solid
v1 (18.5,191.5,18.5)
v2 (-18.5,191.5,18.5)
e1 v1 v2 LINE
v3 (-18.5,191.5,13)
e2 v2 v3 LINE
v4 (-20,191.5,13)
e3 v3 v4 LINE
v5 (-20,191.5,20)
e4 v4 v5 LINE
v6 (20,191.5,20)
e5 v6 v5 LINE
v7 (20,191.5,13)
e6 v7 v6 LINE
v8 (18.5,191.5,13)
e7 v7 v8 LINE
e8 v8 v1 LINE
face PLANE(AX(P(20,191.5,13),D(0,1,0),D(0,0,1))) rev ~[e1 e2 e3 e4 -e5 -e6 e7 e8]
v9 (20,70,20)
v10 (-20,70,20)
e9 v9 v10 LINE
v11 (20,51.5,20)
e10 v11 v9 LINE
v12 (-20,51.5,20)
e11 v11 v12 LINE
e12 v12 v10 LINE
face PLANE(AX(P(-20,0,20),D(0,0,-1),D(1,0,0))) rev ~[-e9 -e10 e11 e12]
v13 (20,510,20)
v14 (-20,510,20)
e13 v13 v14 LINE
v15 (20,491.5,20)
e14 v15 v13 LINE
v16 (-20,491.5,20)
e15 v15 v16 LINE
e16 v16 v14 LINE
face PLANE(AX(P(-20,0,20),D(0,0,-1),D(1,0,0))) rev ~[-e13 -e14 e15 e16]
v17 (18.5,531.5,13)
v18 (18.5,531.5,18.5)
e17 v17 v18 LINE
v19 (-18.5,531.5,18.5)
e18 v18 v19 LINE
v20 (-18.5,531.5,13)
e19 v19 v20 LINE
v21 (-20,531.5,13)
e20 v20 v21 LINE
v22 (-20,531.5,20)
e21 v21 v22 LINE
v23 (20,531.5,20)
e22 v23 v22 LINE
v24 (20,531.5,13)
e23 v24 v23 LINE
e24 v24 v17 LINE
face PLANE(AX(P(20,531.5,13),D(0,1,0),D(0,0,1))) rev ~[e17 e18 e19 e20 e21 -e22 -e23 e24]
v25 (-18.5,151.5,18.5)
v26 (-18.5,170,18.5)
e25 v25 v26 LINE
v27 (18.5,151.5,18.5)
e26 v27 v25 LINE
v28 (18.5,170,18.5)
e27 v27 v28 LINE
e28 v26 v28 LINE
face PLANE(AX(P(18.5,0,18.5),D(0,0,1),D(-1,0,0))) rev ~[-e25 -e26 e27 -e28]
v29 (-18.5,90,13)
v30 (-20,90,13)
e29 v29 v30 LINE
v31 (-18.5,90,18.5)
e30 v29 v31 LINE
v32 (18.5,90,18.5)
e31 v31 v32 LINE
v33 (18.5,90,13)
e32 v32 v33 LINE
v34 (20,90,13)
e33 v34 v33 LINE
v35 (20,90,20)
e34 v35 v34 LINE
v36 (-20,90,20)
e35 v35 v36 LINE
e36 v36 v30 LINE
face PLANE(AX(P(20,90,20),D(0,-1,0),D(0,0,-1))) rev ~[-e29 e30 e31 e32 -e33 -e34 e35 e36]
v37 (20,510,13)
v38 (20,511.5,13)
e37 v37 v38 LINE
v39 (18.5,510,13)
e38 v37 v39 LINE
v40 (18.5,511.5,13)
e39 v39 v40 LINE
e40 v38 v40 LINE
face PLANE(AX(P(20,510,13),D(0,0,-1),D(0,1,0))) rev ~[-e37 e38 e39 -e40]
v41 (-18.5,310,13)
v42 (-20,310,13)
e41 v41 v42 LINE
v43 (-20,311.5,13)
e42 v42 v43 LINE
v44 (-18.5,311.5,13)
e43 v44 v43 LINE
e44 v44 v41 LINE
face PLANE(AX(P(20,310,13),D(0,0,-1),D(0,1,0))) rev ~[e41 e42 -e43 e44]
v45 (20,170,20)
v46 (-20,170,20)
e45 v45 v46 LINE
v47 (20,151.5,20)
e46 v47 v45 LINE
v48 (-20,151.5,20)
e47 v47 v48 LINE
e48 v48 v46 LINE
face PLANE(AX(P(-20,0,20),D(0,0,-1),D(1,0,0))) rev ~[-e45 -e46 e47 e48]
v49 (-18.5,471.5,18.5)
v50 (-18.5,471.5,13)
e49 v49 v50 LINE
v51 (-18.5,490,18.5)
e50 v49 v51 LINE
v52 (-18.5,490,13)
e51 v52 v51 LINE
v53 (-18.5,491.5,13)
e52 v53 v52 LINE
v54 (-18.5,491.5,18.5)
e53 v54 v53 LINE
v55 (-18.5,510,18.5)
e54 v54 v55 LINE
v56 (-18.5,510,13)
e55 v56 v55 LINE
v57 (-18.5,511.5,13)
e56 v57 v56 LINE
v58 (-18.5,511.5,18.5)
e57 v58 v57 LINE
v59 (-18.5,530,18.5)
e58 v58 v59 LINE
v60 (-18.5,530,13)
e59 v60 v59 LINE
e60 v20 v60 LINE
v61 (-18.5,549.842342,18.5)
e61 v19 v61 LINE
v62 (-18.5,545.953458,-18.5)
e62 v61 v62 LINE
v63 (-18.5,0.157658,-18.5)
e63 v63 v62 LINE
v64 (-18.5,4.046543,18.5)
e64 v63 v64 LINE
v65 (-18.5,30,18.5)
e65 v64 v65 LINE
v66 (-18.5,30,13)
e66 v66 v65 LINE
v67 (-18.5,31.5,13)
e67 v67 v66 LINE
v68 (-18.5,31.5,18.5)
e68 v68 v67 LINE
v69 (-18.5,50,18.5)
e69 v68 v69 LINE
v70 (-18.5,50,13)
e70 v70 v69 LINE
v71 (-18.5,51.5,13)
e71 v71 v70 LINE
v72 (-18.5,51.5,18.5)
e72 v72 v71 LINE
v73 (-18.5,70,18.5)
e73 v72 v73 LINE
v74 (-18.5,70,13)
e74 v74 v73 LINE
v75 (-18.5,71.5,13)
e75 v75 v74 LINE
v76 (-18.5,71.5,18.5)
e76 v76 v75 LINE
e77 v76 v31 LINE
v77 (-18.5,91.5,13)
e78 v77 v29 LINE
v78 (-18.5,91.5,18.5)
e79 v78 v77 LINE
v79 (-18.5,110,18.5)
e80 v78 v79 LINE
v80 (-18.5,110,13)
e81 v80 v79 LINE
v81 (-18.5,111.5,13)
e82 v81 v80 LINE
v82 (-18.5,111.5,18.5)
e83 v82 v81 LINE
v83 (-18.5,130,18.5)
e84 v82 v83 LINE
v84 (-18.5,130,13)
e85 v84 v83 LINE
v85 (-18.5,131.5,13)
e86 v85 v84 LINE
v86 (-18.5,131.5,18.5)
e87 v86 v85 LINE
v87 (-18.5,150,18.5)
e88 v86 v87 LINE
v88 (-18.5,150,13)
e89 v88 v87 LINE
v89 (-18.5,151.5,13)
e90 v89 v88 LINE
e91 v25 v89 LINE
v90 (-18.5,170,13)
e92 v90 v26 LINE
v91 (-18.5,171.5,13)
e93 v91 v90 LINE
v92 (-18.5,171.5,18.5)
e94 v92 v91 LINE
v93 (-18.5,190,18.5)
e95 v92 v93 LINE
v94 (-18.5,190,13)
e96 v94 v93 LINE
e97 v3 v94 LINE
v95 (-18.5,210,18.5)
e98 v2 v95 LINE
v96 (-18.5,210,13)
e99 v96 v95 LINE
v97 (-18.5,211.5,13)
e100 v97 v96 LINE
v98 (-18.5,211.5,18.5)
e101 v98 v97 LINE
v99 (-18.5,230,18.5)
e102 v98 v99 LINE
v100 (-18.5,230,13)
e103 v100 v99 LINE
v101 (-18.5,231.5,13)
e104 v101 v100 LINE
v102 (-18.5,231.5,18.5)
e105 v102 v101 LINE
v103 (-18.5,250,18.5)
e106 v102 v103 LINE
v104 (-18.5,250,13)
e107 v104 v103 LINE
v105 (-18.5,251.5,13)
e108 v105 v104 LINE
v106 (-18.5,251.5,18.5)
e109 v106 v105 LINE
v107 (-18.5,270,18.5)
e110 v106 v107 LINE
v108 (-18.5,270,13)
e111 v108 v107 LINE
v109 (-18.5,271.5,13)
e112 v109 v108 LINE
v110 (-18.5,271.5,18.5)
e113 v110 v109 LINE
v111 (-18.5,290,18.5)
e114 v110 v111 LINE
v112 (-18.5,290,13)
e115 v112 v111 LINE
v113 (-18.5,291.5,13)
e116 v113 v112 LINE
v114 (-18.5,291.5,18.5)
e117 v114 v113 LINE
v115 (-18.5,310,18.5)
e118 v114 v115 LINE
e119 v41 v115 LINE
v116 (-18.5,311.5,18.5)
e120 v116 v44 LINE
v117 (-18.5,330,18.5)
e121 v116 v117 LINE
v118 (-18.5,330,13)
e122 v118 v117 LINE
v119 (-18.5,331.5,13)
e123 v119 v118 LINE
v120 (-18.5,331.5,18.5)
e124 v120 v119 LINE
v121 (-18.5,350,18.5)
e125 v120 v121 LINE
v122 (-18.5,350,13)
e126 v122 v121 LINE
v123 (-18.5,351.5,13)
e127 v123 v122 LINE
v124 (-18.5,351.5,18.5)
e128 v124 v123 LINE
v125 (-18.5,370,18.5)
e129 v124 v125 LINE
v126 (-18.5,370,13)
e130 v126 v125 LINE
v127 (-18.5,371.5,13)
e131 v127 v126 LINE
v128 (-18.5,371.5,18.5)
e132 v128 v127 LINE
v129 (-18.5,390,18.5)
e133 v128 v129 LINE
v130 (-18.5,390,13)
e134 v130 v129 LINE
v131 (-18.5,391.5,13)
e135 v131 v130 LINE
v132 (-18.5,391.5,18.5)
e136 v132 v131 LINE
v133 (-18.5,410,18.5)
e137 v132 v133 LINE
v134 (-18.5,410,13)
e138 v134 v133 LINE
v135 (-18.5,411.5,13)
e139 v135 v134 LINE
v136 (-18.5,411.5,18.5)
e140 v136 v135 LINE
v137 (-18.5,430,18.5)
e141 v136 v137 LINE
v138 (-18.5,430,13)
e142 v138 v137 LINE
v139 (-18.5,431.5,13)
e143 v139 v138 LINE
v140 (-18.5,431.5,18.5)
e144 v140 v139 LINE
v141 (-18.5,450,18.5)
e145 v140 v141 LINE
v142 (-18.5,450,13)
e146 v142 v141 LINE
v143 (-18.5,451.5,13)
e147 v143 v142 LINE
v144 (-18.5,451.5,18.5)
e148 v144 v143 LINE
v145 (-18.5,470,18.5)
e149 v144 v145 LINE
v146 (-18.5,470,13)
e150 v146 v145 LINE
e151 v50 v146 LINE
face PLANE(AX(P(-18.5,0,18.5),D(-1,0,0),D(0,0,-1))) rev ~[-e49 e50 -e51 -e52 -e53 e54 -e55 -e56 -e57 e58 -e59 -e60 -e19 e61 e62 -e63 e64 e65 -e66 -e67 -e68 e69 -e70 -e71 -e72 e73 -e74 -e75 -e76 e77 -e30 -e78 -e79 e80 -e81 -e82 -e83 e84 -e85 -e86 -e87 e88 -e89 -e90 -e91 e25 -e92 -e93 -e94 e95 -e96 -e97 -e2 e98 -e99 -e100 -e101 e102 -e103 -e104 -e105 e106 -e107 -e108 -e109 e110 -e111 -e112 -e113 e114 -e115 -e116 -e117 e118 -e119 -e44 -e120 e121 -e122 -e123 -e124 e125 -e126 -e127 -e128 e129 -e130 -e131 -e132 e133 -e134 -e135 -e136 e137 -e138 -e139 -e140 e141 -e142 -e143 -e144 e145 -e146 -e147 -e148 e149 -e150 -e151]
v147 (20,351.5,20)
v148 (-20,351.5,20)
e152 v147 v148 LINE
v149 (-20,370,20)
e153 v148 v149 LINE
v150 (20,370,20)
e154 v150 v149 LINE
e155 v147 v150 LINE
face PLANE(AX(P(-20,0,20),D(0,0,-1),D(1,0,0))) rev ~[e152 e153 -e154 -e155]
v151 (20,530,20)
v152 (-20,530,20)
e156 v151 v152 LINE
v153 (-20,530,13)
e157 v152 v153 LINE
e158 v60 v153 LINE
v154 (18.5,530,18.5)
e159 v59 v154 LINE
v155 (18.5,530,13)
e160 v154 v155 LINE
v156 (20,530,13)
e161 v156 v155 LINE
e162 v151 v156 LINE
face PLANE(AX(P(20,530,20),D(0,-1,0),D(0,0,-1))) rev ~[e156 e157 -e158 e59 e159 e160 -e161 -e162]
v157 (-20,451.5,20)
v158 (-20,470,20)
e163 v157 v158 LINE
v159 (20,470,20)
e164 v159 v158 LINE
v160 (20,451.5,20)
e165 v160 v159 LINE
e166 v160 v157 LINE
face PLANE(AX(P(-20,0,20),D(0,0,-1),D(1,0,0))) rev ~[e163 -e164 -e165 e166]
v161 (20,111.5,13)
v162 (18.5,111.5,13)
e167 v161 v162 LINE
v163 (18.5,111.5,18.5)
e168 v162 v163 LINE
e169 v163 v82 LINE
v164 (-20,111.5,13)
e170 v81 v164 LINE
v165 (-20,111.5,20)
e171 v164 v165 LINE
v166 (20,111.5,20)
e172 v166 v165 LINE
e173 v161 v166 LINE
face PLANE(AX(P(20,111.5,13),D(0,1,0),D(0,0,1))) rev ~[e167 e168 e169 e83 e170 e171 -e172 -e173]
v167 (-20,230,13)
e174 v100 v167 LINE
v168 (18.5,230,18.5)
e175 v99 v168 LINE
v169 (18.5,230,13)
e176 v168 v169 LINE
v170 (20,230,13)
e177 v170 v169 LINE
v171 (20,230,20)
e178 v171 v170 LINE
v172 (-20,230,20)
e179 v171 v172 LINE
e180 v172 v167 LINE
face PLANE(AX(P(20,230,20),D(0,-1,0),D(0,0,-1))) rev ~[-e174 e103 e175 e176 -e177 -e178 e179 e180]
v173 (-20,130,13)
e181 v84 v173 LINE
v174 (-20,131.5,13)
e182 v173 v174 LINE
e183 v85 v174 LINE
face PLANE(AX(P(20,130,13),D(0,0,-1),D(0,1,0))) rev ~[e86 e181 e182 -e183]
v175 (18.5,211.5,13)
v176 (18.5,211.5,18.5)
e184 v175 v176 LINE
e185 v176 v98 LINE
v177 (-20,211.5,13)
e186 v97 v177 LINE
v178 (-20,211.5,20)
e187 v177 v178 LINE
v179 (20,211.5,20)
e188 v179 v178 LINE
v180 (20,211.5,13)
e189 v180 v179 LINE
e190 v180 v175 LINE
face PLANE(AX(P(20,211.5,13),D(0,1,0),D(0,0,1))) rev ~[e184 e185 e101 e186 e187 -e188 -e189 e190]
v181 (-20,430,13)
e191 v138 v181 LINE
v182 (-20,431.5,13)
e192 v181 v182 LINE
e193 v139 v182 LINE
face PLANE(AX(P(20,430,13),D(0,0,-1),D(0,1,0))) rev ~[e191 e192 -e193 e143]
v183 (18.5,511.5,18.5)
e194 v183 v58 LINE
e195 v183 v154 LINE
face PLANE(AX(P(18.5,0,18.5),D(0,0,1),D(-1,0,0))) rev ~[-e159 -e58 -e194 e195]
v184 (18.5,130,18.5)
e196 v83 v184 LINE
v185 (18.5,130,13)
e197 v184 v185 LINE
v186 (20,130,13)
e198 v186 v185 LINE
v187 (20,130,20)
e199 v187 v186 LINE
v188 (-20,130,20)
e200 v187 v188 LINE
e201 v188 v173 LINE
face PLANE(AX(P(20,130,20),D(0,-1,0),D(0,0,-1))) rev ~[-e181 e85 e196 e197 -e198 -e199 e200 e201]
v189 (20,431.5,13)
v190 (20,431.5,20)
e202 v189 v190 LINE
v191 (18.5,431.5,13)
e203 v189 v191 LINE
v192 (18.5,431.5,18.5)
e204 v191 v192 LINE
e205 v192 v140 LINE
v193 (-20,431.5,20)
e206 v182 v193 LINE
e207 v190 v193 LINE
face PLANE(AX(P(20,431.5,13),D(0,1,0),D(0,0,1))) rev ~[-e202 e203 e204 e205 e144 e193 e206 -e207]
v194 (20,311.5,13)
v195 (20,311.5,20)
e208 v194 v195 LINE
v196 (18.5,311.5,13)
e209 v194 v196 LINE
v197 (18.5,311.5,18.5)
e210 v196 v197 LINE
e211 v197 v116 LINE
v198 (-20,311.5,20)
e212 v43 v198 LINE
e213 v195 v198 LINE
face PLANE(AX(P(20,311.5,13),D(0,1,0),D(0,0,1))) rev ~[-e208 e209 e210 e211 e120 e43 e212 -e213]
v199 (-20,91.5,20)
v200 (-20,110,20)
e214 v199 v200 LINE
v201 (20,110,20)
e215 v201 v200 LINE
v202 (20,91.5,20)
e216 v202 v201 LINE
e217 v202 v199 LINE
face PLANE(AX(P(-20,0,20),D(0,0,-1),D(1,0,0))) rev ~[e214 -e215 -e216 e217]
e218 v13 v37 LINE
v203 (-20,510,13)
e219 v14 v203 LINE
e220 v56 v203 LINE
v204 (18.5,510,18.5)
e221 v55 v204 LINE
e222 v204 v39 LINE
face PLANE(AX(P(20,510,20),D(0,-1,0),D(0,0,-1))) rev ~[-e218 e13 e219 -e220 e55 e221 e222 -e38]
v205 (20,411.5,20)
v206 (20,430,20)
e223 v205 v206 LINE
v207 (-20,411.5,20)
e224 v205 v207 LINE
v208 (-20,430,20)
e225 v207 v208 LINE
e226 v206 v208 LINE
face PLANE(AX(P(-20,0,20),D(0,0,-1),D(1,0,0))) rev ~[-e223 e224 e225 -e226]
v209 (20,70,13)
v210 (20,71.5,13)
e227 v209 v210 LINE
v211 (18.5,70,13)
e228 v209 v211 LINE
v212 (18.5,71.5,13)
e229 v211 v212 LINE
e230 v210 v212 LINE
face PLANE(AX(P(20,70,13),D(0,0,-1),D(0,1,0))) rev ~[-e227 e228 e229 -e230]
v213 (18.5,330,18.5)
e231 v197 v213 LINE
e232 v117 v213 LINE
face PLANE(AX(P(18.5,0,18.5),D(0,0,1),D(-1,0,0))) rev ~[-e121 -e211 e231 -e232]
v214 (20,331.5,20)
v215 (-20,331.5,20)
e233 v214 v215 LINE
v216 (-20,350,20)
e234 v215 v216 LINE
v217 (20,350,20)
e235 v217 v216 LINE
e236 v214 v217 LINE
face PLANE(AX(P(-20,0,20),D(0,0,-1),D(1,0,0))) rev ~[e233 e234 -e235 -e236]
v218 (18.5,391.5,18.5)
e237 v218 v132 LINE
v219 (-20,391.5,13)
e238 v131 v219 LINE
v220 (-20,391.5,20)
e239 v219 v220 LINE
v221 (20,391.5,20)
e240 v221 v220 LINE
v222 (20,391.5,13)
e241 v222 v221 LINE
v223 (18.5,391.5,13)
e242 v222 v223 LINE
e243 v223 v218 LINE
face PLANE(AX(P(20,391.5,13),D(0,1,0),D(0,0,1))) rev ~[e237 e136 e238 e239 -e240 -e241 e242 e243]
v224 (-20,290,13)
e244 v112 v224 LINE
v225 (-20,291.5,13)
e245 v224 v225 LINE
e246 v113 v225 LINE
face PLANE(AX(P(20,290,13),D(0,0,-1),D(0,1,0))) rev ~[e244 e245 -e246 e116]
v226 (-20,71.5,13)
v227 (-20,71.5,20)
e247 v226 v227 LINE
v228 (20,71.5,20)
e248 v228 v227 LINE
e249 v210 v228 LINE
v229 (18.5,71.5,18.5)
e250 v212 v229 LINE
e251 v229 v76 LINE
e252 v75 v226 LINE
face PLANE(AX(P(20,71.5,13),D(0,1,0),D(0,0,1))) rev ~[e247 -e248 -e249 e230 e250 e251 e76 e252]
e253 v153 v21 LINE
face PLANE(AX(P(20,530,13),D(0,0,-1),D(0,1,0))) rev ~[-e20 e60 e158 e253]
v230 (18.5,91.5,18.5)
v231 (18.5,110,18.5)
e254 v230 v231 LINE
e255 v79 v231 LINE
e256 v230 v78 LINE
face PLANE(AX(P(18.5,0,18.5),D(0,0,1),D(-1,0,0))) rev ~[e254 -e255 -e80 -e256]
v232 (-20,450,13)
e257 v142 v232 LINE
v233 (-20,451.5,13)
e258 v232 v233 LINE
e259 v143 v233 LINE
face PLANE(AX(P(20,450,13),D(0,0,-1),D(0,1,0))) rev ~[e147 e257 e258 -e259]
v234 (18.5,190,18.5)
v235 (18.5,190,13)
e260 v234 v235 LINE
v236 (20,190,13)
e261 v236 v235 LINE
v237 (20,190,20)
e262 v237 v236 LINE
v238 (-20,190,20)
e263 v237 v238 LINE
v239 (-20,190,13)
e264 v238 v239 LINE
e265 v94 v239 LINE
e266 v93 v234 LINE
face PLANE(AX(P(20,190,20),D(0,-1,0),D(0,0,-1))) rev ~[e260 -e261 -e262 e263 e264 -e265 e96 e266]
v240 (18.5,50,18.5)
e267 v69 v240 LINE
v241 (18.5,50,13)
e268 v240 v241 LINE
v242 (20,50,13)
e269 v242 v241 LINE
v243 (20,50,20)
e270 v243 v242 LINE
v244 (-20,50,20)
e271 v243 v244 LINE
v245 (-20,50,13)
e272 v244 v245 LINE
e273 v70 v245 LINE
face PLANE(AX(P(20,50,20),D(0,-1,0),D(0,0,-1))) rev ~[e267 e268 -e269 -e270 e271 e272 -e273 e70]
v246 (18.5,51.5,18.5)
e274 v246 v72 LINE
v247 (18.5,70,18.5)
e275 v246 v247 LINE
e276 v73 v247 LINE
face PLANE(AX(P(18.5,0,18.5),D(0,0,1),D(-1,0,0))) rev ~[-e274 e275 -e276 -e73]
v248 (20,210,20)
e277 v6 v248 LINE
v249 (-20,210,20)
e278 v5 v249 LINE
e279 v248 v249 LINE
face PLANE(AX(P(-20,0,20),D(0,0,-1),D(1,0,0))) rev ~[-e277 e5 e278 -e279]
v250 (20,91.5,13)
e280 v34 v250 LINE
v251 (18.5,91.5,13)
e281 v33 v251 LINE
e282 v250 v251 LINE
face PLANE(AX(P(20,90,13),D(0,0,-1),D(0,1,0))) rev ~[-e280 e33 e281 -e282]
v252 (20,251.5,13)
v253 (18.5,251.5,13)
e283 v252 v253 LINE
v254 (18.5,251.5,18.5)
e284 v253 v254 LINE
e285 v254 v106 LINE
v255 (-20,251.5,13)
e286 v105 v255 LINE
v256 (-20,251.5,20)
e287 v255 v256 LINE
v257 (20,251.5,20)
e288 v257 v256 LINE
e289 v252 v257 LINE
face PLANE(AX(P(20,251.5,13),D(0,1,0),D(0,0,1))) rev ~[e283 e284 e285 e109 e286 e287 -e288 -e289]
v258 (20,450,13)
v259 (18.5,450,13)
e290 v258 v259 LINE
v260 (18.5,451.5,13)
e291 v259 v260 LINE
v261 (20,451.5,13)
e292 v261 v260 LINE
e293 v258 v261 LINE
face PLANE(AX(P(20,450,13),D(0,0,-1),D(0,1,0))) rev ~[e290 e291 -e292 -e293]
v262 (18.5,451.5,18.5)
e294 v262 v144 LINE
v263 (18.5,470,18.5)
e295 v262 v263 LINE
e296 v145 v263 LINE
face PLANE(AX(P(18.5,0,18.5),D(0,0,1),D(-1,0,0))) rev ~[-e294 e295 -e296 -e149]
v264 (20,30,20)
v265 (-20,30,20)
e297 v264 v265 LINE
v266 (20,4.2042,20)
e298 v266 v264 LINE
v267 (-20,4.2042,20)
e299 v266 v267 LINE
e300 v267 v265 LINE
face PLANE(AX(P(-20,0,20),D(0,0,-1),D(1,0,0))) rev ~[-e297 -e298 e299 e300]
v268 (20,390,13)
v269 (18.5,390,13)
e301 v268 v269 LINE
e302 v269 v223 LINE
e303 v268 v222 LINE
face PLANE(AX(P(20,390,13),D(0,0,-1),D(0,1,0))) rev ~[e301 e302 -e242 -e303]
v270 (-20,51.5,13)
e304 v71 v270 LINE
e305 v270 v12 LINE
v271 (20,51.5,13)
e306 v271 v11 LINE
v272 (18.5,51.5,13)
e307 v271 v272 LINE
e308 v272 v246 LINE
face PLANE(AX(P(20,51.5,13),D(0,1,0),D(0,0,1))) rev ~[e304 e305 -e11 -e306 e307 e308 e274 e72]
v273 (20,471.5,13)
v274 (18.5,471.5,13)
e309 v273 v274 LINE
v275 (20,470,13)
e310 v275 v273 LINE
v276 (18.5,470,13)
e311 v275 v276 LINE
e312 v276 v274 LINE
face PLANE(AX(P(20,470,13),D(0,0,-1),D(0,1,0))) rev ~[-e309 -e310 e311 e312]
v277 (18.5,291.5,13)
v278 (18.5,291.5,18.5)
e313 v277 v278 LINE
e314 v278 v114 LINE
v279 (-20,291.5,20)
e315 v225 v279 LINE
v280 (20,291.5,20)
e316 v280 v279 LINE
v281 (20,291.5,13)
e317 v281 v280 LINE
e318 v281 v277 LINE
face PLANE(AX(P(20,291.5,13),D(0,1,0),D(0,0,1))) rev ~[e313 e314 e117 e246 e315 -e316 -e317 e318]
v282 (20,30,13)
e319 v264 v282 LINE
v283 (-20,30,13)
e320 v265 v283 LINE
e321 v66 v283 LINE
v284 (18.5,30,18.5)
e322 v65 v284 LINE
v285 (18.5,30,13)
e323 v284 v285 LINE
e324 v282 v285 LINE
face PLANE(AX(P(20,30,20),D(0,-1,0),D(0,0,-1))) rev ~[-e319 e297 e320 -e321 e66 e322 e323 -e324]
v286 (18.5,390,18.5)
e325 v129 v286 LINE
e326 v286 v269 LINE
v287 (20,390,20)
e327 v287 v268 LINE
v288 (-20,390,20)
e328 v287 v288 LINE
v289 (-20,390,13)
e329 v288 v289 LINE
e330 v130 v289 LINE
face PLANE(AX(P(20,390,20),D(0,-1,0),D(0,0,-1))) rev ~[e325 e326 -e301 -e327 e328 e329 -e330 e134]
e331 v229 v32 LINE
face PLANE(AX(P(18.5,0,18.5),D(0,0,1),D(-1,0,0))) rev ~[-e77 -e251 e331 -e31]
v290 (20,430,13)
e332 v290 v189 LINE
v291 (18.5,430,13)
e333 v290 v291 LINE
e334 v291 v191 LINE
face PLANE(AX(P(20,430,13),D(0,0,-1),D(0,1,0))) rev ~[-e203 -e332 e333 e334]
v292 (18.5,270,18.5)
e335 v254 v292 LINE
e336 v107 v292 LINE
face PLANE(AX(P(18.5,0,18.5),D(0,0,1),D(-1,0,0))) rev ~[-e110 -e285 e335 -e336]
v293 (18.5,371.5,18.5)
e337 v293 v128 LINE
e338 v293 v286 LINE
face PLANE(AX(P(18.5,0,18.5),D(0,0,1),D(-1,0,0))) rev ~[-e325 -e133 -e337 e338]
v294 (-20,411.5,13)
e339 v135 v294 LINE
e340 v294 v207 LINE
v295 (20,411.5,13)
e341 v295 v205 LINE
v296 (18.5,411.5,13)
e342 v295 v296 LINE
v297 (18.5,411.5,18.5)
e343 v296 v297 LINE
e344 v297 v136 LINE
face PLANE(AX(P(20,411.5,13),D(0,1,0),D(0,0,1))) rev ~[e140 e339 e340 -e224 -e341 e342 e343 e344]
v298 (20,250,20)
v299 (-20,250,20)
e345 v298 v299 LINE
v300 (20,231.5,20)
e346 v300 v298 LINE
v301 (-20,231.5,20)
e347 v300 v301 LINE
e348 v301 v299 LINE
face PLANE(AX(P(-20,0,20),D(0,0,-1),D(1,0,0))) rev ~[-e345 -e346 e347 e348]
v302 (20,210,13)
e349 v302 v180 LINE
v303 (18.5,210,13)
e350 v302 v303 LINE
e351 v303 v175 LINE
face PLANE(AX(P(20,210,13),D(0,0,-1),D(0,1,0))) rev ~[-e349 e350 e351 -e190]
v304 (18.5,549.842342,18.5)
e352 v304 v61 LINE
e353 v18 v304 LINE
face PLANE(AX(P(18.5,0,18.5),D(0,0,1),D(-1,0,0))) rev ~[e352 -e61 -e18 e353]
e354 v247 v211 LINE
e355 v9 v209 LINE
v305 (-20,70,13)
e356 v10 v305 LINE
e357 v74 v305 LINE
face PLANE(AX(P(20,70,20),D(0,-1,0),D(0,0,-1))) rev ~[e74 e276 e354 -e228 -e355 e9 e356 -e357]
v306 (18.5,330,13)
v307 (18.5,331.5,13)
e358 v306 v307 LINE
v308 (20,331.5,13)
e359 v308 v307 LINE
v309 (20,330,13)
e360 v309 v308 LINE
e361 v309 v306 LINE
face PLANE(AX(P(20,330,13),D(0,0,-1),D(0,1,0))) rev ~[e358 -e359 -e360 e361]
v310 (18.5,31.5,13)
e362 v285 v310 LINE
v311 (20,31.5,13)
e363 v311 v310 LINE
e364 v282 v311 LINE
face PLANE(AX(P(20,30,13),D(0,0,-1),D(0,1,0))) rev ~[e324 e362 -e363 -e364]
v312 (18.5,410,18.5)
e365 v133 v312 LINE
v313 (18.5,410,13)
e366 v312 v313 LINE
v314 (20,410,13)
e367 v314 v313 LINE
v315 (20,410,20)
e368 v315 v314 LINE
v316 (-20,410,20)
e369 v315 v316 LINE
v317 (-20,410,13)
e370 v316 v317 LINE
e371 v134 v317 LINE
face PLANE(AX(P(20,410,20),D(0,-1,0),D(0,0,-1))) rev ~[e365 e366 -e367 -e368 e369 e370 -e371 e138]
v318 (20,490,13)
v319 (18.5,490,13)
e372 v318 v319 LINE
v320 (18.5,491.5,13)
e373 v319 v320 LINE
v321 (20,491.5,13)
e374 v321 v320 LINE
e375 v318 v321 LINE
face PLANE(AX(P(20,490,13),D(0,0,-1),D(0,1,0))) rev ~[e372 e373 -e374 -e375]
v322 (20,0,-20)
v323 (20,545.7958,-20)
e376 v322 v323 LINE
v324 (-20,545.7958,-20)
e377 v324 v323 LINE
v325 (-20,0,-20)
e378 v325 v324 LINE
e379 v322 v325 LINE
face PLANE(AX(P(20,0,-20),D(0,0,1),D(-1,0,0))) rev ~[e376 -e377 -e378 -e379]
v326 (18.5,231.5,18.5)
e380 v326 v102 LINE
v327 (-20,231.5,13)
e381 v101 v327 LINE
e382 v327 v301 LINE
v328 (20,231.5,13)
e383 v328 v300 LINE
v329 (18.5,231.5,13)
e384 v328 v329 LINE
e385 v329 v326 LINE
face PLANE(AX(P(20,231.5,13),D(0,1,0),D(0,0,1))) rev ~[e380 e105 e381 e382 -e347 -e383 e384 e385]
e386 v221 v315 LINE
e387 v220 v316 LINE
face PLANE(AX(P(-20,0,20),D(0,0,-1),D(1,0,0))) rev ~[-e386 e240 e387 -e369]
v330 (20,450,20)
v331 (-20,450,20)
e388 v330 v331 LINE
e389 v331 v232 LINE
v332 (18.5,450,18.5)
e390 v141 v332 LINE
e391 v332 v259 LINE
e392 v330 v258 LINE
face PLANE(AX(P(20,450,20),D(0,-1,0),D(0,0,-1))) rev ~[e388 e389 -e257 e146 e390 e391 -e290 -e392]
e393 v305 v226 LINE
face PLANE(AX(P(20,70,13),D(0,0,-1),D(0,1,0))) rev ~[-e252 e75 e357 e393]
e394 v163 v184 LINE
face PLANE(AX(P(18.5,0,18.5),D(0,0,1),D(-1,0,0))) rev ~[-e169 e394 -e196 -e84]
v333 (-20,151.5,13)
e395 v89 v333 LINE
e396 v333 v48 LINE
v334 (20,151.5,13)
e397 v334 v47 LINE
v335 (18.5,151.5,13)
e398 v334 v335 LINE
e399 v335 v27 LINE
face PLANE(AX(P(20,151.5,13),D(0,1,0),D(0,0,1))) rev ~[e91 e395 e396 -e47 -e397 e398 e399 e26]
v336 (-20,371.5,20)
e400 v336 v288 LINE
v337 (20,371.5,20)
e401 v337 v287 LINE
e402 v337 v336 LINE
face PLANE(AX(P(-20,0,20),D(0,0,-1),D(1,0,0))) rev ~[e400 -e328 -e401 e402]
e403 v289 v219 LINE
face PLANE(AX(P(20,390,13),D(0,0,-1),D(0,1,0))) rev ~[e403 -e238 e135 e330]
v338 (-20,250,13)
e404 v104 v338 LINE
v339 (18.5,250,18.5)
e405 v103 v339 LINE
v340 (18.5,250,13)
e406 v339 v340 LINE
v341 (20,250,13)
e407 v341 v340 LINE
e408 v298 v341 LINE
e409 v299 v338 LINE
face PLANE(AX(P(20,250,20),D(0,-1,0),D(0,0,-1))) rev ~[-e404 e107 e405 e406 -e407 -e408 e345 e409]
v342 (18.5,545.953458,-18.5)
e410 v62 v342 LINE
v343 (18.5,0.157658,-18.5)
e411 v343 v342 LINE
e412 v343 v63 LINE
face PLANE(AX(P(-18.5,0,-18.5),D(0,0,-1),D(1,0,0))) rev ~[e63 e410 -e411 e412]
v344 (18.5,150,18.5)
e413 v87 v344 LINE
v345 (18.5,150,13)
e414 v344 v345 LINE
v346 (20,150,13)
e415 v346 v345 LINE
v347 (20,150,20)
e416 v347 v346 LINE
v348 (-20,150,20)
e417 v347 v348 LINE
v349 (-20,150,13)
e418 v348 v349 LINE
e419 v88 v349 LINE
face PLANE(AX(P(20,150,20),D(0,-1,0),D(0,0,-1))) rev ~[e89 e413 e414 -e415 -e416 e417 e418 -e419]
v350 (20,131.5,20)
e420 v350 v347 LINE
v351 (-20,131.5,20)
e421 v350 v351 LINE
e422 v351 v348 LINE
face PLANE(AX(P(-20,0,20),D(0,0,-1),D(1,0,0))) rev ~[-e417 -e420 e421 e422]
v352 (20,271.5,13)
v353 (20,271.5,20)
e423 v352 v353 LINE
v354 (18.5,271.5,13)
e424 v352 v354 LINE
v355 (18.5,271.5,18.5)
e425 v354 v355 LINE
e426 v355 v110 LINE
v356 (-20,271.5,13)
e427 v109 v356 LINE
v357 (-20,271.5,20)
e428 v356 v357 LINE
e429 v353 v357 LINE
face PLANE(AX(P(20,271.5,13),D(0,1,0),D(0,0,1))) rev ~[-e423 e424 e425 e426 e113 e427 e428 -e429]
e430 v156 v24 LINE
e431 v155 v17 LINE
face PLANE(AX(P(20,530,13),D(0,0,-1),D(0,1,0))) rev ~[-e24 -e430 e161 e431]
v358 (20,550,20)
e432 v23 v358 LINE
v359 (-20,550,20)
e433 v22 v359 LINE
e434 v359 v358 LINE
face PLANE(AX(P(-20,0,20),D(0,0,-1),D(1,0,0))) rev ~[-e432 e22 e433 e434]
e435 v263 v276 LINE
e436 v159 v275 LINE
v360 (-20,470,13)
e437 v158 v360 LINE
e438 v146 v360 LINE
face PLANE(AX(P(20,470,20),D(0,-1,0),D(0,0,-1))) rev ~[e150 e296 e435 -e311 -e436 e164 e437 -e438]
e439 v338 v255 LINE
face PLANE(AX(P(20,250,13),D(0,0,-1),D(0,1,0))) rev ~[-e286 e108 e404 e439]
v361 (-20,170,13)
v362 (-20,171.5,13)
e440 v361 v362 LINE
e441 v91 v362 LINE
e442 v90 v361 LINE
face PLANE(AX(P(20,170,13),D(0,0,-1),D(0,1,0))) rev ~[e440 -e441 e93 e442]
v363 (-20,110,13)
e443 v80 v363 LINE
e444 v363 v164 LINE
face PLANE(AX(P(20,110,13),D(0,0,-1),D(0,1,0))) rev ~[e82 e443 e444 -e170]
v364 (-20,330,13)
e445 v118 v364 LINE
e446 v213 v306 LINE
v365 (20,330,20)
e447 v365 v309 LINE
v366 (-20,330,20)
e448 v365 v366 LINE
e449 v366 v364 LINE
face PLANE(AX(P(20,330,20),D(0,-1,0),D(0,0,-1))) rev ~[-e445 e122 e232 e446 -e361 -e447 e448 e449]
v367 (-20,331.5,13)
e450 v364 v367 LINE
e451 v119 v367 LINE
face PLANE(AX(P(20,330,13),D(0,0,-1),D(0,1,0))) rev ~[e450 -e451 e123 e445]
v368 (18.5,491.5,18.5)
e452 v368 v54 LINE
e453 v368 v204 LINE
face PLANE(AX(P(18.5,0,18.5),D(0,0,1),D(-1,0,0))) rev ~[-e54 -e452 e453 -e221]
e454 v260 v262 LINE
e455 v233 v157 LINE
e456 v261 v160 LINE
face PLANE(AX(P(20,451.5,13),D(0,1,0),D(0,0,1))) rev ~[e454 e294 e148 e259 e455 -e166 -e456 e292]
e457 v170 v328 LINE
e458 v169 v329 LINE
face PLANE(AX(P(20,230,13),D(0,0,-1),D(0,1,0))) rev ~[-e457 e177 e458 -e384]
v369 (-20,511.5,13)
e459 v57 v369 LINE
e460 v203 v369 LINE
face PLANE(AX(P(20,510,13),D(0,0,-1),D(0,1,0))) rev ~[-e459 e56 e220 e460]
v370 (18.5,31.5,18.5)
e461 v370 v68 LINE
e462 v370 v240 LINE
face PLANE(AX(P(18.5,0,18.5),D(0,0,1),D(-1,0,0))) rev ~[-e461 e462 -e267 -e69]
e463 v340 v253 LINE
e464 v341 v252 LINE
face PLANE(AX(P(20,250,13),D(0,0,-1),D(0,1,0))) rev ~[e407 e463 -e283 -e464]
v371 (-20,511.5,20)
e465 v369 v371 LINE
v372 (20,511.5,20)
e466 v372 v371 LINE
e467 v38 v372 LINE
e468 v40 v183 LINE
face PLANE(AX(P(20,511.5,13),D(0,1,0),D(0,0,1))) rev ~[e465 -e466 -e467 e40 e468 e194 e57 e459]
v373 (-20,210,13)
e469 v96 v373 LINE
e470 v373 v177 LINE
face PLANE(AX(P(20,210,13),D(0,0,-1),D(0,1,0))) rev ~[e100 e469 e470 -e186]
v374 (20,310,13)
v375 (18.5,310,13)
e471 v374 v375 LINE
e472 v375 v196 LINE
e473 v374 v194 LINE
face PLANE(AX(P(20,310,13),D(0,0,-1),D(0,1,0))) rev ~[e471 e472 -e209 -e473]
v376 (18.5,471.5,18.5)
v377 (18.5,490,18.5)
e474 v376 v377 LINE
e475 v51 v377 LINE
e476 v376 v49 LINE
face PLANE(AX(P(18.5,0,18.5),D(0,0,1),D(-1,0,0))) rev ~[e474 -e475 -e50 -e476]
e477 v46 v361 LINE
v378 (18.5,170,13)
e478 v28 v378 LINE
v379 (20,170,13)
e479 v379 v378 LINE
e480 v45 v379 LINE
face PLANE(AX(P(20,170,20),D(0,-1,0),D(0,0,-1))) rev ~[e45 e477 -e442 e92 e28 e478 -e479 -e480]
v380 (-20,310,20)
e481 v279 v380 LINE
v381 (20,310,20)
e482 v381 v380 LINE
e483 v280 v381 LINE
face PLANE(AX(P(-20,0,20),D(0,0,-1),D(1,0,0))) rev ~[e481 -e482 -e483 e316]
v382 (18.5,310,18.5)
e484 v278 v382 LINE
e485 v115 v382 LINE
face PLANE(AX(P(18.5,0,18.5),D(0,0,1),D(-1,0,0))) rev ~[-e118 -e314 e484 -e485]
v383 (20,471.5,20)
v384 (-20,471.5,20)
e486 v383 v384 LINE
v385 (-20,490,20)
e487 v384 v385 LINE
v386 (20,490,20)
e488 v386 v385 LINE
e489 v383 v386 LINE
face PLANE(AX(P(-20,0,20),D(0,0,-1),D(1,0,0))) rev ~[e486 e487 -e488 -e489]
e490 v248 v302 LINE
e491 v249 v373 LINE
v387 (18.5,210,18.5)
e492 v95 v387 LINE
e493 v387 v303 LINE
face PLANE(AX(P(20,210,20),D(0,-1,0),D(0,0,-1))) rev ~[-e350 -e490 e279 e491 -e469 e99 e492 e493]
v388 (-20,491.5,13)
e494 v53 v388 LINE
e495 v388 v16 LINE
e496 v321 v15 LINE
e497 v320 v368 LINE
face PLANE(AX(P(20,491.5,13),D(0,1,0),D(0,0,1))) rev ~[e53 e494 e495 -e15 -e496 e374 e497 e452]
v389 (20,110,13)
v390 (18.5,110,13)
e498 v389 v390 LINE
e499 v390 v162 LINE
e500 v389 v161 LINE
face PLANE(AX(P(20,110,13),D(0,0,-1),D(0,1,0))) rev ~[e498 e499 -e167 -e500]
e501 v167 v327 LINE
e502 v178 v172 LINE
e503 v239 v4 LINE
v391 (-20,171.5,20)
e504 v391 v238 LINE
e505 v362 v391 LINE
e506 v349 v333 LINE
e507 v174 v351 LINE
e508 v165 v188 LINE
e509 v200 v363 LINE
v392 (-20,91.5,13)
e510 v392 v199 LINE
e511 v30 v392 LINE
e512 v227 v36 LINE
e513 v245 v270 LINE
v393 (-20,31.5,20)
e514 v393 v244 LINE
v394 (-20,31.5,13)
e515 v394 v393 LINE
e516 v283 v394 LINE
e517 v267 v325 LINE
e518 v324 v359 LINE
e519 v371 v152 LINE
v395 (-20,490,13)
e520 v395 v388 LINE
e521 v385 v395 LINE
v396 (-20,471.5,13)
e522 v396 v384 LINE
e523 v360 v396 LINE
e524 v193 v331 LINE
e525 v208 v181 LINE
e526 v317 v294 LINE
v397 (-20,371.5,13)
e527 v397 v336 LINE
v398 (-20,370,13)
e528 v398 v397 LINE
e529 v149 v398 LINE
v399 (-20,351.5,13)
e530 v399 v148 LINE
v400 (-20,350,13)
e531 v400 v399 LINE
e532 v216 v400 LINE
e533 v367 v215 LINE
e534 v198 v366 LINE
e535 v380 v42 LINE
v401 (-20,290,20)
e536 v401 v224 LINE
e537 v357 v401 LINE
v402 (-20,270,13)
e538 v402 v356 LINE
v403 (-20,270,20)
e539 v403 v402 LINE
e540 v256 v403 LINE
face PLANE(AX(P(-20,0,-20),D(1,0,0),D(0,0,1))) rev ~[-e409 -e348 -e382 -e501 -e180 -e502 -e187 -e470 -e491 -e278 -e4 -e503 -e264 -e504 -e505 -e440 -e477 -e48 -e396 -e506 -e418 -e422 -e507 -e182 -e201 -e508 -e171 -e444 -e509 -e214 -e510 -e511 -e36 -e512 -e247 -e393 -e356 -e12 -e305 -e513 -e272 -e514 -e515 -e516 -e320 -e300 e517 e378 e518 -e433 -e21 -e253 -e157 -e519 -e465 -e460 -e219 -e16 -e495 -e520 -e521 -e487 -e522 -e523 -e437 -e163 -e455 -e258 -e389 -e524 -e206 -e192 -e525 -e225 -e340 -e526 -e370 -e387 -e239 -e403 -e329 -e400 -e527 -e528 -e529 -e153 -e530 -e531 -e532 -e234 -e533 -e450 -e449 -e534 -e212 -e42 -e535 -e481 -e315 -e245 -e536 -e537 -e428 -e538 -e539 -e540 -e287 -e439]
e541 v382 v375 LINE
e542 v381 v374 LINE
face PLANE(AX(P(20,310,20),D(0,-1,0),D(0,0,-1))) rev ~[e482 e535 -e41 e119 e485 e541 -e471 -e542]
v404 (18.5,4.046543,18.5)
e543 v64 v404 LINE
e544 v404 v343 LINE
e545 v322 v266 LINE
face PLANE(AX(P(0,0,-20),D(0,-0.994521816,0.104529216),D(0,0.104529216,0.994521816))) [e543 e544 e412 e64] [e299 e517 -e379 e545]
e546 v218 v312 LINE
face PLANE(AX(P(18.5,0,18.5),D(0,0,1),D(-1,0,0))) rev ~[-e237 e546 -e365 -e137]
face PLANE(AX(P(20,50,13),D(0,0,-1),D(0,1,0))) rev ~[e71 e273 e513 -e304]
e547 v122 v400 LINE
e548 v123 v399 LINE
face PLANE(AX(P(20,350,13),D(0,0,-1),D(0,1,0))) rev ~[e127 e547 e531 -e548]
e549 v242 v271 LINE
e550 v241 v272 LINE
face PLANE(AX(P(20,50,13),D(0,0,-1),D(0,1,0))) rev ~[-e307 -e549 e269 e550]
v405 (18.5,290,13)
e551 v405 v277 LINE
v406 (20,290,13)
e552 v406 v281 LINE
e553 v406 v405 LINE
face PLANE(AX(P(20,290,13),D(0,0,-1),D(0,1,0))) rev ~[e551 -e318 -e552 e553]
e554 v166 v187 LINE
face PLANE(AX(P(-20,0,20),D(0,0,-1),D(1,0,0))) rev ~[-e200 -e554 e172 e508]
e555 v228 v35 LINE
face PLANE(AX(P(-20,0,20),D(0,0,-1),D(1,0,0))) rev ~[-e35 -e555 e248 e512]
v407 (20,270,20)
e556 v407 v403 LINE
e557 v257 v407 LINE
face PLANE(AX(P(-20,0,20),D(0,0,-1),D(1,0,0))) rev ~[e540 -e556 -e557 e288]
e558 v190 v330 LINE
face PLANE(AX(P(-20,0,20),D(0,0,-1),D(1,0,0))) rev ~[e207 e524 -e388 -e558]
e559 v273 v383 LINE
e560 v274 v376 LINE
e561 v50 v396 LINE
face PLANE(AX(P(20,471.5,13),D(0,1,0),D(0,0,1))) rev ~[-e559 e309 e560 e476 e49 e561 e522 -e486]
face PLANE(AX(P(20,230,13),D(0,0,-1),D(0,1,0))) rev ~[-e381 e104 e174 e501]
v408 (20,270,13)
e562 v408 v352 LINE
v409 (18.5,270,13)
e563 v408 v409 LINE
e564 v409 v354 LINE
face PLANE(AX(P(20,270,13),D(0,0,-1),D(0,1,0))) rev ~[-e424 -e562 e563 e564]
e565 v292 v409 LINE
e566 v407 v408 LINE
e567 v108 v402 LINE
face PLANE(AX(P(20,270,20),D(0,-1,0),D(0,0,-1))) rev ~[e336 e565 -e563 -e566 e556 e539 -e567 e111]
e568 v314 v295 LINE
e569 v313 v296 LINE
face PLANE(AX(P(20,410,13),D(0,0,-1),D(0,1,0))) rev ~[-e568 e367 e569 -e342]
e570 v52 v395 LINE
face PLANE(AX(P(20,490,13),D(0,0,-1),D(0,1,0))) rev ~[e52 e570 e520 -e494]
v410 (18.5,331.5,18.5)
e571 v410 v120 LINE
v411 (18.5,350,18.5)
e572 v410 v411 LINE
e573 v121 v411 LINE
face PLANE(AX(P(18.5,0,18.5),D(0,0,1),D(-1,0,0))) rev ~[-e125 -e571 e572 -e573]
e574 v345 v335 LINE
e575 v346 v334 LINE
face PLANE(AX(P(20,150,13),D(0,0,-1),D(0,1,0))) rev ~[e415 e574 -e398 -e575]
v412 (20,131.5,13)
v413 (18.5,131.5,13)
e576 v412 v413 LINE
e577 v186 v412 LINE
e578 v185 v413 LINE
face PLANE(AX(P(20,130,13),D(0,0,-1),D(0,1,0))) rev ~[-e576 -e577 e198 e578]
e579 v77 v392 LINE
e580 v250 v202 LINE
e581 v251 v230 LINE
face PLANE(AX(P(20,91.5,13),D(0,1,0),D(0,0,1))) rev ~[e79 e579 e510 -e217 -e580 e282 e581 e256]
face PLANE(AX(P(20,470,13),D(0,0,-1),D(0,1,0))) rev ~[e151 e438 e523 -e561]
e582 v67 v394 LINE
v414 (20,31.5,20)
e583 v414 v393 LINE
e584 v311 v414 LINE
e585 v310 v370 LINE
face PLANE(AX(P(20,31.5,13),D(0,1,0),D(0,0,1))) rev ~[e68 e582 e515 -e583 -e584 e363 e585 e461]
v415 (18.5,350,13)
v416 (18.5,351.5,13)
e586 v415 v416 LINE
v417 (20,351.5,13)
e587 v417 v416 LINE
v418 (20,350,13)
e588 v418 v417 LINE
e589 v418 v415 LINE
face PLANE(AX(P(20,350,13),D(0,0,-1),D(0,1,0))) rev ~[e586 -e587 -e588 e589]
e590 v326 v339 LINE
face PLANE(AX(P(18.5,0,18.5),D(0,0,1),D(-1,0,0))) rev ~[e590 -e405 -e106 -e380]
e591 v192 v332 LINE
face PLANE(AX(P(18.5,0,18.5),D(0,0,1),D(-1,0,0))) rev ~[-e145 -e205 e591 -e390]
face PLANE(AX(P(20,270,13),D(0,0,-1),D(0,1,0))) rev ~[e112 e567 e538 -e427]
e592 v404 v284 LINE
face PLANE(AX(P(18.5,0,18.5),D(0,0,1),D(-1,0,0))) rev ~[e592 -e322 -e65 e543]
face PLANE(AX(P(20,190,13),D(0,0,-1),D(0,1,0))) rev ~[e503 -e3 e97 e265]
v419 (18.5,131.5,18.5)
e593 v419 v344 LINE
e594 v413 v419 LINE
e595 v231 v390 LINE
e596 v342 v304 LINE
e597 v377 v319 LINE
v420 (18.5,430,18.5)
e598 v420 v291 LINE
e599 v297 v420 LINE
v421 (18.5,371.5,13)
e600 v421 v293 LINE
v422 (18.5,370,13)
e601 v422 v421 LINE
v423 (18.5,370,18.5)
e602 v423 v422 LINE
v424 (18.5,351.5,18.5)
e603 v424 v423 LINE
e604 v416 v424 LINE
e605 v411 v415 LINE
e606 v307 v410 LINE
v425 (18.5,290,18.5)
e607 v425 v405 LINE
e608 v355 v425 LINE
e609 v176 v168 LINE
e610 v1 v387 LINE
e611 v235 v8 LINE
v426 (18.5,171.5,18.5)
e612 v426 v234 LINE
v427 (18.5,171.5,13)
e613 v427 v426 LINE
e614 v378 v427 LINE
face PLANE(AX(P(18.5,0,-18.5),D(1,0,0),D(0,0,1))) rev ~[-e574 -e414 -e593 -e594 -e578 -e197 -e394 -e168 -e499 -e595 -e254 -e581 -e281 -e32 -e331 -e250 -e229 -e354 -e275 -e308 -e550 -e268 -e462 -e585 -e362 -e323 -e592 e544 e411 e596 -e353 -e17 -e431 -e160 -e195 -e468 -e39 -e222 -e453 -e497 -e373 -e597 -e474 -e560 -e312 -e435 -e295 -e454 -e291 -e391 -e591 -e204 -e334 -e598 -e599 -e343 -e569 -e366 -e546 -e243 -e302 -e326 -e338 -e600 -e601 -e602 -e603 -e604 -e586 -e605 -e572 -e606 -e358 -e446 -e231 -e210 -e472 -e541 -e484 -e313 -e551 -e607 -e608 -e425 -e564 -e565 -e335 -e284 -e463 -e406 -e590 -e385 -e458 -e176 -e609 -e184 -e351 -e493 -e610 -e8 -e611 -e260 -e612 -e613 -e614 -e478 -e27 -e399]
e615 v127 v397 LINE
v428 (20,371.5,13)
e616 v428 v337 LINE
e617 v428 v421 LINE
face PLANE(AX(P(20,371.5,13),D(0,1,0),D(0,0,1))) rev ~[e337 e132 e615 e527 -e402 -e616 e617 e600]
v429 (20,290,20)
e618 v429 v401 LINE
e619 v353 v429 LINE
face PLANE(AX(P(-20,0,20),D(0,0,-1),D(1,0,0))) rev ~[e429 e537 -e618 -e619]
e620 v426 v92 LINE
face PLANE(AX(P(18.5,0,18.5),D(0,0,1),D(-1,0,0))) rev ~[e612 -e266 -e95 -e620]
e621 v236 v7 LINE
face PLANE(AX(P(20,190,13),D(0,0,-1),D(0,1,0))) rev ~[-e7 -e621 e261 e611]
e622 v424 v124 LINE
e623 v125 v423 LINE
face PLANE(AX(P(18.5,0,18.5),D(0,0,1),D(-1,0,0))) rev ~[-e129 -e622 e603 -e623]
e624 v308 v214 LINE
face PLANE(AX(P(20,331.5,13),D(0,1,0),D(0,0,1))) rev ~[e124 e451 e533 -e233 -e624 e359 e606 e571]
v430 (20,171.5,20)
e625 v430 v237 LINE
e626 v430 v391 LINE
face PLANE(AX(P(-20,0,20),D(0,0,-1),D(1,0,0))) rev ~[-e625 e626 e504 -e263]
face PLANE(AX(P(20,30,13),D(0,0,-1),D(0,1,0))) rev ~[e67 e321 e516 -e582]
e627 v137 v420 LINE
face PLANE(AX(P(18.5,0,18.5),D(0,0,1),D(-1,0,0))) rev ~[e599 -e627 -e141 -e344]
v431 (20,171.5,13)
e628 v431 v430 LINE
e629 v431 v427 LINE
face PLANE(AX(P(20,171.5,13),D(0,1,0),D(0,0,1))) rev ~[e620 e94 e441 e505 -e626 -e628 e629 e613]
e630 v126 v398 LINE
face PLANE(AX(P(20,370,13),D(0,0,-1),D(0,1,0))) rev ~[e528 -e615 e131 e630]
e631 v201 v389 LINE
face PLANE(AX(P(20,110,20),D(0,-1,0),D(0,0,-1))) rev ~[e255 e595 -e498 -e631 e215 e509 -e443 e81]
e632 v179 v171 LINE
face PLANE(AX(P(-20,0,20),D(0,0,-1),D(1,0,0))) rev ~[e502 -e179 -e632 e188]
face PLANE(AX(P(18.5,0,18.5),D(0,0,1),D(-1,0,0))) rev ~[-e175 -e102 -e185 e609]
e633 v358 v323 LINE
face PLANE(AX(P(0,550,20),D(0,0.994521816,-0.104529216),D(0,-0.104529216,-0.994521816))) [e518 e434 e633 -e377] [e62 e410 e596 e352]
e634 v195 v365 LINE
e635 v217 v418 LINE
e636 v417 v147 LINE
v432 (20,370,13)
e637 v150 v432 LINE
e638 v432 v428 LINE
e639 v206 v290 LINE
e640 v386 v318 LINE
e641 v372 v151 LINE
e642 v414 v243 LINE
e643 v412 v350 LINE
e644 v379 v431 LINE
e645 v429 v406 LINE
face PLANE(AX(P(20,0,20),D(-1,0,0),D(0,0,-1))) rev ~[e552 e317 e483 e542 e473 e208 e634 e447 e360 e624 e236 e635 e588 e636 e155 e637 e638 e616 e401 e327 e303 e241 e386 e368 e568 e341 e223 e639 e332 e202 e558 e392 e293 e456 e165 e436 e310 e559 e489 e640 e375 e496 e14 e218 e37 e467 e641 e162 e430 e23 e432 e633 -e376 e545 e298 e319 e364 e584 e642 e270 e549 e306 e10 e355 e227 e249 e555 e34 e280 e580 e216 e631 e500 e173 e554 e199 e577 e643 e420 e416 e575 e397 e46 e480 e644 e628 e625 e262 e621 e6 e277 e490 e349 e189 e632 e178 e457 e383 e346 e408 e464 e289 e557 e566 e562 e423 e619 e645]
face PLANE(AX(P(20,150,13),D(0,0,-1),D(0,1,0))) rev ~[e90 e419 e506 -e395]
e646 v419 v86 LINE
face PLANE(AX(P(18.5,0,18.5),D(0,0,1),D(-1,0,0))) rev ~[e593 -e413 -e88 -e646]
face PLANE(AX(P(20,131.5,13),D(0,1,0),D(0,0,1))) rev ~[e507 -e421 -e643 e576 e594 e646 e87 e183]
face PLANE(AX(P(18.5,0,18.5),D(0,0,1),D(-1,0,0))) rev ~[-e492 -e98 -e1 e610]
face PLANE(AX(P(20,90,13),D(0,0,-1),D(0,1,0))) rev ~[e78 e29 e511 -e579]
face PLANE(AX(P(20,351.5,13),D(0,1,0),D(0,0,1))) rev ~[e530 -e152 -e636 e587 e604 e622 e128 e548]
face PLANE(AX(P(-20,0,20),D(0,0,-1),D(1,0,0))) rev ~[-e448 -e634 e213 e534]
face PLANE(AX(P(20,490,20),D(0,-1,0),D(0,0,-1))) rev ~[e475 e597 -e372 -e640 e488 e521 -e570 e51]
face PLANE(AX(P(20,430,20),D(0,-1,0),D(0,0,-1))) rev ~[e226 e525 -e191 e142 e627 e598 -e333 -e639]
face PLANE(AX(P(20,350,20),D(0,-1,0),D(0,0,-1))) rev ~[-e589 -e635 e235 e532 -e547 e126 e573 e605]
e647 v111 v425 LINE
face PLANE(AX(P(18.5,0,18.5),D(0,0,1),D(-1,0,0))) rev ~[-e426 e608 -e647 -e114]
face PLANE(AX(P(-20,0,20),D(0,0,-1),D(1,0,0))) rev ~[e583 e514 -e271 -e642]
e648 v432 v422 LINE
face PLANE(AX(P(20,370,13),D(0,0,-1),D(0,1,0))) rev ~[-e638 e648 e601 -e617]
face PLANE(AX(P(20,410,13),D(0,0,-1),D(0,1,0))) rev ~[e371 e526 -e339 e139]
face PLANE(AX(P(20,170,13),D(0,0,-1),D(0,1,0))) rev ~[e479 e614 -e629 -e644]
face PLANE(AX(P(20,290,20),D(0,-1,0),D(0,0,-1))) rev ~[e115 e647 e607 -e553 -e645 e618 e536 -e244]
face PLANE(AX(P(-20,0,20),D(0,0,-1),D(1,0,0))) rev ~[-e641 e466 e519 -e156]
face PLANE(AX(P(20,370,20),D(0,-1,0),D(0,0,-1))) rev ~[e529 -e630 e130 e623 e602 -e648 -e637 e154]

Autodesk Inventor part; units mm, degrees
ref_plane "YZ Plane" through (0, 0, 0) normal (1, 0, 0) x (0, 1, 0)
ref_plane "XZ Plane" through (0, 0, 0) normal (0, 1, 0) x (-1, 0, 0)
ref_plane "XY Plane" through (0, 0, 0) normal (0, 0, 1) x (1, 0, 0)
sketch "Sketch1" plane through (0, 0, 0) normal (0, 1, 0) x (-1, 0, 0)
  line L0 (20, 20) -> (-20, 20)
  line L1 (-20, 20) -> (-20, -20)
  line L2 (-20, -20) -> (20, -20)
  line L3 (20, -20) -> (20, 20)
  line L4 (20, 20) -> (-20, -20) construction
  line L5 (-20, 20) -> (20, -20) construction
  line L6 (-18.5, 18.5) -> (18.5, 18.5)
  line L7 (18.5, 18.5) -> (18.5, -18.5)
  line L8 (18.5, -18.5) -> (-18.5, -18.5)
  line L9 (-18.5, -18.5) -> (-18.5, 18.5)
  point P0 (0, 0)
  dimension "d7" = 40
  dimension "d8" = 40
  dimension "d9" = 1.5
extrude "Extrusion1" add sketch "Sketch1" along normal blind 550
sketch "Sketch2" plane through (20, 0, 20) normal (1, 0, 0) x (0, 0, -1)
  line L0 (0, 0) -> (0, 550) projected
  line L1 (0, 30) -> (7, 30)
  line L2 (7, 30) -> (7, 31.5)
  line L3 (7, 31.5) -> (0, 31.5)
  line L4 (0, 31.5) -> (0, 30)
  point P0 (20, 0)
  point P1 (0, 31.5)
  dimension "d10" = 7
  dimension "d11" = 1.5
  dimension "d17" = 30
extrude "Extrusion2" cut sketch "Sketch2" against normal through all
pattern_linear "Rectangular Pattern1" count 49 spacing 20 along (0, 1, 0) of "Extrusion2"
sketch "Sketch5" plane through (0, 0, 0) normal (1, 0, 0) x (0, 1, 0)
  line L0 (0, 20) -> (0, -20) projected
  line L1 (0, 20) -> (30, 20) projected
  line L2 (0, -20) -> (4.2042, 20)
  line L3 (550, -20) -> (550, 20) projected
  line L4 (550, 20) -> (545.7958, -20)
  line L5 (0, -20) -> (550, -20) projected
  point P0 (0, 0)
  dimension "d18" = 6
  dimension "d21" = 6
extrude "Extrusion3" cut sketch "Sketch5" along normal through all both and the other way through all
equation "\"d1\" = BEAM_2_lenth"
equation "\"d18\" = BEAM_2_angle"
equation "\"d21\" = d18"
equation "\"BEAM_2_lenth\" = 550"
equation "\"BEAM_2_angle\" = 6deg"
properties part number "DSB-502 beam 2" material "Stainless Steel"
